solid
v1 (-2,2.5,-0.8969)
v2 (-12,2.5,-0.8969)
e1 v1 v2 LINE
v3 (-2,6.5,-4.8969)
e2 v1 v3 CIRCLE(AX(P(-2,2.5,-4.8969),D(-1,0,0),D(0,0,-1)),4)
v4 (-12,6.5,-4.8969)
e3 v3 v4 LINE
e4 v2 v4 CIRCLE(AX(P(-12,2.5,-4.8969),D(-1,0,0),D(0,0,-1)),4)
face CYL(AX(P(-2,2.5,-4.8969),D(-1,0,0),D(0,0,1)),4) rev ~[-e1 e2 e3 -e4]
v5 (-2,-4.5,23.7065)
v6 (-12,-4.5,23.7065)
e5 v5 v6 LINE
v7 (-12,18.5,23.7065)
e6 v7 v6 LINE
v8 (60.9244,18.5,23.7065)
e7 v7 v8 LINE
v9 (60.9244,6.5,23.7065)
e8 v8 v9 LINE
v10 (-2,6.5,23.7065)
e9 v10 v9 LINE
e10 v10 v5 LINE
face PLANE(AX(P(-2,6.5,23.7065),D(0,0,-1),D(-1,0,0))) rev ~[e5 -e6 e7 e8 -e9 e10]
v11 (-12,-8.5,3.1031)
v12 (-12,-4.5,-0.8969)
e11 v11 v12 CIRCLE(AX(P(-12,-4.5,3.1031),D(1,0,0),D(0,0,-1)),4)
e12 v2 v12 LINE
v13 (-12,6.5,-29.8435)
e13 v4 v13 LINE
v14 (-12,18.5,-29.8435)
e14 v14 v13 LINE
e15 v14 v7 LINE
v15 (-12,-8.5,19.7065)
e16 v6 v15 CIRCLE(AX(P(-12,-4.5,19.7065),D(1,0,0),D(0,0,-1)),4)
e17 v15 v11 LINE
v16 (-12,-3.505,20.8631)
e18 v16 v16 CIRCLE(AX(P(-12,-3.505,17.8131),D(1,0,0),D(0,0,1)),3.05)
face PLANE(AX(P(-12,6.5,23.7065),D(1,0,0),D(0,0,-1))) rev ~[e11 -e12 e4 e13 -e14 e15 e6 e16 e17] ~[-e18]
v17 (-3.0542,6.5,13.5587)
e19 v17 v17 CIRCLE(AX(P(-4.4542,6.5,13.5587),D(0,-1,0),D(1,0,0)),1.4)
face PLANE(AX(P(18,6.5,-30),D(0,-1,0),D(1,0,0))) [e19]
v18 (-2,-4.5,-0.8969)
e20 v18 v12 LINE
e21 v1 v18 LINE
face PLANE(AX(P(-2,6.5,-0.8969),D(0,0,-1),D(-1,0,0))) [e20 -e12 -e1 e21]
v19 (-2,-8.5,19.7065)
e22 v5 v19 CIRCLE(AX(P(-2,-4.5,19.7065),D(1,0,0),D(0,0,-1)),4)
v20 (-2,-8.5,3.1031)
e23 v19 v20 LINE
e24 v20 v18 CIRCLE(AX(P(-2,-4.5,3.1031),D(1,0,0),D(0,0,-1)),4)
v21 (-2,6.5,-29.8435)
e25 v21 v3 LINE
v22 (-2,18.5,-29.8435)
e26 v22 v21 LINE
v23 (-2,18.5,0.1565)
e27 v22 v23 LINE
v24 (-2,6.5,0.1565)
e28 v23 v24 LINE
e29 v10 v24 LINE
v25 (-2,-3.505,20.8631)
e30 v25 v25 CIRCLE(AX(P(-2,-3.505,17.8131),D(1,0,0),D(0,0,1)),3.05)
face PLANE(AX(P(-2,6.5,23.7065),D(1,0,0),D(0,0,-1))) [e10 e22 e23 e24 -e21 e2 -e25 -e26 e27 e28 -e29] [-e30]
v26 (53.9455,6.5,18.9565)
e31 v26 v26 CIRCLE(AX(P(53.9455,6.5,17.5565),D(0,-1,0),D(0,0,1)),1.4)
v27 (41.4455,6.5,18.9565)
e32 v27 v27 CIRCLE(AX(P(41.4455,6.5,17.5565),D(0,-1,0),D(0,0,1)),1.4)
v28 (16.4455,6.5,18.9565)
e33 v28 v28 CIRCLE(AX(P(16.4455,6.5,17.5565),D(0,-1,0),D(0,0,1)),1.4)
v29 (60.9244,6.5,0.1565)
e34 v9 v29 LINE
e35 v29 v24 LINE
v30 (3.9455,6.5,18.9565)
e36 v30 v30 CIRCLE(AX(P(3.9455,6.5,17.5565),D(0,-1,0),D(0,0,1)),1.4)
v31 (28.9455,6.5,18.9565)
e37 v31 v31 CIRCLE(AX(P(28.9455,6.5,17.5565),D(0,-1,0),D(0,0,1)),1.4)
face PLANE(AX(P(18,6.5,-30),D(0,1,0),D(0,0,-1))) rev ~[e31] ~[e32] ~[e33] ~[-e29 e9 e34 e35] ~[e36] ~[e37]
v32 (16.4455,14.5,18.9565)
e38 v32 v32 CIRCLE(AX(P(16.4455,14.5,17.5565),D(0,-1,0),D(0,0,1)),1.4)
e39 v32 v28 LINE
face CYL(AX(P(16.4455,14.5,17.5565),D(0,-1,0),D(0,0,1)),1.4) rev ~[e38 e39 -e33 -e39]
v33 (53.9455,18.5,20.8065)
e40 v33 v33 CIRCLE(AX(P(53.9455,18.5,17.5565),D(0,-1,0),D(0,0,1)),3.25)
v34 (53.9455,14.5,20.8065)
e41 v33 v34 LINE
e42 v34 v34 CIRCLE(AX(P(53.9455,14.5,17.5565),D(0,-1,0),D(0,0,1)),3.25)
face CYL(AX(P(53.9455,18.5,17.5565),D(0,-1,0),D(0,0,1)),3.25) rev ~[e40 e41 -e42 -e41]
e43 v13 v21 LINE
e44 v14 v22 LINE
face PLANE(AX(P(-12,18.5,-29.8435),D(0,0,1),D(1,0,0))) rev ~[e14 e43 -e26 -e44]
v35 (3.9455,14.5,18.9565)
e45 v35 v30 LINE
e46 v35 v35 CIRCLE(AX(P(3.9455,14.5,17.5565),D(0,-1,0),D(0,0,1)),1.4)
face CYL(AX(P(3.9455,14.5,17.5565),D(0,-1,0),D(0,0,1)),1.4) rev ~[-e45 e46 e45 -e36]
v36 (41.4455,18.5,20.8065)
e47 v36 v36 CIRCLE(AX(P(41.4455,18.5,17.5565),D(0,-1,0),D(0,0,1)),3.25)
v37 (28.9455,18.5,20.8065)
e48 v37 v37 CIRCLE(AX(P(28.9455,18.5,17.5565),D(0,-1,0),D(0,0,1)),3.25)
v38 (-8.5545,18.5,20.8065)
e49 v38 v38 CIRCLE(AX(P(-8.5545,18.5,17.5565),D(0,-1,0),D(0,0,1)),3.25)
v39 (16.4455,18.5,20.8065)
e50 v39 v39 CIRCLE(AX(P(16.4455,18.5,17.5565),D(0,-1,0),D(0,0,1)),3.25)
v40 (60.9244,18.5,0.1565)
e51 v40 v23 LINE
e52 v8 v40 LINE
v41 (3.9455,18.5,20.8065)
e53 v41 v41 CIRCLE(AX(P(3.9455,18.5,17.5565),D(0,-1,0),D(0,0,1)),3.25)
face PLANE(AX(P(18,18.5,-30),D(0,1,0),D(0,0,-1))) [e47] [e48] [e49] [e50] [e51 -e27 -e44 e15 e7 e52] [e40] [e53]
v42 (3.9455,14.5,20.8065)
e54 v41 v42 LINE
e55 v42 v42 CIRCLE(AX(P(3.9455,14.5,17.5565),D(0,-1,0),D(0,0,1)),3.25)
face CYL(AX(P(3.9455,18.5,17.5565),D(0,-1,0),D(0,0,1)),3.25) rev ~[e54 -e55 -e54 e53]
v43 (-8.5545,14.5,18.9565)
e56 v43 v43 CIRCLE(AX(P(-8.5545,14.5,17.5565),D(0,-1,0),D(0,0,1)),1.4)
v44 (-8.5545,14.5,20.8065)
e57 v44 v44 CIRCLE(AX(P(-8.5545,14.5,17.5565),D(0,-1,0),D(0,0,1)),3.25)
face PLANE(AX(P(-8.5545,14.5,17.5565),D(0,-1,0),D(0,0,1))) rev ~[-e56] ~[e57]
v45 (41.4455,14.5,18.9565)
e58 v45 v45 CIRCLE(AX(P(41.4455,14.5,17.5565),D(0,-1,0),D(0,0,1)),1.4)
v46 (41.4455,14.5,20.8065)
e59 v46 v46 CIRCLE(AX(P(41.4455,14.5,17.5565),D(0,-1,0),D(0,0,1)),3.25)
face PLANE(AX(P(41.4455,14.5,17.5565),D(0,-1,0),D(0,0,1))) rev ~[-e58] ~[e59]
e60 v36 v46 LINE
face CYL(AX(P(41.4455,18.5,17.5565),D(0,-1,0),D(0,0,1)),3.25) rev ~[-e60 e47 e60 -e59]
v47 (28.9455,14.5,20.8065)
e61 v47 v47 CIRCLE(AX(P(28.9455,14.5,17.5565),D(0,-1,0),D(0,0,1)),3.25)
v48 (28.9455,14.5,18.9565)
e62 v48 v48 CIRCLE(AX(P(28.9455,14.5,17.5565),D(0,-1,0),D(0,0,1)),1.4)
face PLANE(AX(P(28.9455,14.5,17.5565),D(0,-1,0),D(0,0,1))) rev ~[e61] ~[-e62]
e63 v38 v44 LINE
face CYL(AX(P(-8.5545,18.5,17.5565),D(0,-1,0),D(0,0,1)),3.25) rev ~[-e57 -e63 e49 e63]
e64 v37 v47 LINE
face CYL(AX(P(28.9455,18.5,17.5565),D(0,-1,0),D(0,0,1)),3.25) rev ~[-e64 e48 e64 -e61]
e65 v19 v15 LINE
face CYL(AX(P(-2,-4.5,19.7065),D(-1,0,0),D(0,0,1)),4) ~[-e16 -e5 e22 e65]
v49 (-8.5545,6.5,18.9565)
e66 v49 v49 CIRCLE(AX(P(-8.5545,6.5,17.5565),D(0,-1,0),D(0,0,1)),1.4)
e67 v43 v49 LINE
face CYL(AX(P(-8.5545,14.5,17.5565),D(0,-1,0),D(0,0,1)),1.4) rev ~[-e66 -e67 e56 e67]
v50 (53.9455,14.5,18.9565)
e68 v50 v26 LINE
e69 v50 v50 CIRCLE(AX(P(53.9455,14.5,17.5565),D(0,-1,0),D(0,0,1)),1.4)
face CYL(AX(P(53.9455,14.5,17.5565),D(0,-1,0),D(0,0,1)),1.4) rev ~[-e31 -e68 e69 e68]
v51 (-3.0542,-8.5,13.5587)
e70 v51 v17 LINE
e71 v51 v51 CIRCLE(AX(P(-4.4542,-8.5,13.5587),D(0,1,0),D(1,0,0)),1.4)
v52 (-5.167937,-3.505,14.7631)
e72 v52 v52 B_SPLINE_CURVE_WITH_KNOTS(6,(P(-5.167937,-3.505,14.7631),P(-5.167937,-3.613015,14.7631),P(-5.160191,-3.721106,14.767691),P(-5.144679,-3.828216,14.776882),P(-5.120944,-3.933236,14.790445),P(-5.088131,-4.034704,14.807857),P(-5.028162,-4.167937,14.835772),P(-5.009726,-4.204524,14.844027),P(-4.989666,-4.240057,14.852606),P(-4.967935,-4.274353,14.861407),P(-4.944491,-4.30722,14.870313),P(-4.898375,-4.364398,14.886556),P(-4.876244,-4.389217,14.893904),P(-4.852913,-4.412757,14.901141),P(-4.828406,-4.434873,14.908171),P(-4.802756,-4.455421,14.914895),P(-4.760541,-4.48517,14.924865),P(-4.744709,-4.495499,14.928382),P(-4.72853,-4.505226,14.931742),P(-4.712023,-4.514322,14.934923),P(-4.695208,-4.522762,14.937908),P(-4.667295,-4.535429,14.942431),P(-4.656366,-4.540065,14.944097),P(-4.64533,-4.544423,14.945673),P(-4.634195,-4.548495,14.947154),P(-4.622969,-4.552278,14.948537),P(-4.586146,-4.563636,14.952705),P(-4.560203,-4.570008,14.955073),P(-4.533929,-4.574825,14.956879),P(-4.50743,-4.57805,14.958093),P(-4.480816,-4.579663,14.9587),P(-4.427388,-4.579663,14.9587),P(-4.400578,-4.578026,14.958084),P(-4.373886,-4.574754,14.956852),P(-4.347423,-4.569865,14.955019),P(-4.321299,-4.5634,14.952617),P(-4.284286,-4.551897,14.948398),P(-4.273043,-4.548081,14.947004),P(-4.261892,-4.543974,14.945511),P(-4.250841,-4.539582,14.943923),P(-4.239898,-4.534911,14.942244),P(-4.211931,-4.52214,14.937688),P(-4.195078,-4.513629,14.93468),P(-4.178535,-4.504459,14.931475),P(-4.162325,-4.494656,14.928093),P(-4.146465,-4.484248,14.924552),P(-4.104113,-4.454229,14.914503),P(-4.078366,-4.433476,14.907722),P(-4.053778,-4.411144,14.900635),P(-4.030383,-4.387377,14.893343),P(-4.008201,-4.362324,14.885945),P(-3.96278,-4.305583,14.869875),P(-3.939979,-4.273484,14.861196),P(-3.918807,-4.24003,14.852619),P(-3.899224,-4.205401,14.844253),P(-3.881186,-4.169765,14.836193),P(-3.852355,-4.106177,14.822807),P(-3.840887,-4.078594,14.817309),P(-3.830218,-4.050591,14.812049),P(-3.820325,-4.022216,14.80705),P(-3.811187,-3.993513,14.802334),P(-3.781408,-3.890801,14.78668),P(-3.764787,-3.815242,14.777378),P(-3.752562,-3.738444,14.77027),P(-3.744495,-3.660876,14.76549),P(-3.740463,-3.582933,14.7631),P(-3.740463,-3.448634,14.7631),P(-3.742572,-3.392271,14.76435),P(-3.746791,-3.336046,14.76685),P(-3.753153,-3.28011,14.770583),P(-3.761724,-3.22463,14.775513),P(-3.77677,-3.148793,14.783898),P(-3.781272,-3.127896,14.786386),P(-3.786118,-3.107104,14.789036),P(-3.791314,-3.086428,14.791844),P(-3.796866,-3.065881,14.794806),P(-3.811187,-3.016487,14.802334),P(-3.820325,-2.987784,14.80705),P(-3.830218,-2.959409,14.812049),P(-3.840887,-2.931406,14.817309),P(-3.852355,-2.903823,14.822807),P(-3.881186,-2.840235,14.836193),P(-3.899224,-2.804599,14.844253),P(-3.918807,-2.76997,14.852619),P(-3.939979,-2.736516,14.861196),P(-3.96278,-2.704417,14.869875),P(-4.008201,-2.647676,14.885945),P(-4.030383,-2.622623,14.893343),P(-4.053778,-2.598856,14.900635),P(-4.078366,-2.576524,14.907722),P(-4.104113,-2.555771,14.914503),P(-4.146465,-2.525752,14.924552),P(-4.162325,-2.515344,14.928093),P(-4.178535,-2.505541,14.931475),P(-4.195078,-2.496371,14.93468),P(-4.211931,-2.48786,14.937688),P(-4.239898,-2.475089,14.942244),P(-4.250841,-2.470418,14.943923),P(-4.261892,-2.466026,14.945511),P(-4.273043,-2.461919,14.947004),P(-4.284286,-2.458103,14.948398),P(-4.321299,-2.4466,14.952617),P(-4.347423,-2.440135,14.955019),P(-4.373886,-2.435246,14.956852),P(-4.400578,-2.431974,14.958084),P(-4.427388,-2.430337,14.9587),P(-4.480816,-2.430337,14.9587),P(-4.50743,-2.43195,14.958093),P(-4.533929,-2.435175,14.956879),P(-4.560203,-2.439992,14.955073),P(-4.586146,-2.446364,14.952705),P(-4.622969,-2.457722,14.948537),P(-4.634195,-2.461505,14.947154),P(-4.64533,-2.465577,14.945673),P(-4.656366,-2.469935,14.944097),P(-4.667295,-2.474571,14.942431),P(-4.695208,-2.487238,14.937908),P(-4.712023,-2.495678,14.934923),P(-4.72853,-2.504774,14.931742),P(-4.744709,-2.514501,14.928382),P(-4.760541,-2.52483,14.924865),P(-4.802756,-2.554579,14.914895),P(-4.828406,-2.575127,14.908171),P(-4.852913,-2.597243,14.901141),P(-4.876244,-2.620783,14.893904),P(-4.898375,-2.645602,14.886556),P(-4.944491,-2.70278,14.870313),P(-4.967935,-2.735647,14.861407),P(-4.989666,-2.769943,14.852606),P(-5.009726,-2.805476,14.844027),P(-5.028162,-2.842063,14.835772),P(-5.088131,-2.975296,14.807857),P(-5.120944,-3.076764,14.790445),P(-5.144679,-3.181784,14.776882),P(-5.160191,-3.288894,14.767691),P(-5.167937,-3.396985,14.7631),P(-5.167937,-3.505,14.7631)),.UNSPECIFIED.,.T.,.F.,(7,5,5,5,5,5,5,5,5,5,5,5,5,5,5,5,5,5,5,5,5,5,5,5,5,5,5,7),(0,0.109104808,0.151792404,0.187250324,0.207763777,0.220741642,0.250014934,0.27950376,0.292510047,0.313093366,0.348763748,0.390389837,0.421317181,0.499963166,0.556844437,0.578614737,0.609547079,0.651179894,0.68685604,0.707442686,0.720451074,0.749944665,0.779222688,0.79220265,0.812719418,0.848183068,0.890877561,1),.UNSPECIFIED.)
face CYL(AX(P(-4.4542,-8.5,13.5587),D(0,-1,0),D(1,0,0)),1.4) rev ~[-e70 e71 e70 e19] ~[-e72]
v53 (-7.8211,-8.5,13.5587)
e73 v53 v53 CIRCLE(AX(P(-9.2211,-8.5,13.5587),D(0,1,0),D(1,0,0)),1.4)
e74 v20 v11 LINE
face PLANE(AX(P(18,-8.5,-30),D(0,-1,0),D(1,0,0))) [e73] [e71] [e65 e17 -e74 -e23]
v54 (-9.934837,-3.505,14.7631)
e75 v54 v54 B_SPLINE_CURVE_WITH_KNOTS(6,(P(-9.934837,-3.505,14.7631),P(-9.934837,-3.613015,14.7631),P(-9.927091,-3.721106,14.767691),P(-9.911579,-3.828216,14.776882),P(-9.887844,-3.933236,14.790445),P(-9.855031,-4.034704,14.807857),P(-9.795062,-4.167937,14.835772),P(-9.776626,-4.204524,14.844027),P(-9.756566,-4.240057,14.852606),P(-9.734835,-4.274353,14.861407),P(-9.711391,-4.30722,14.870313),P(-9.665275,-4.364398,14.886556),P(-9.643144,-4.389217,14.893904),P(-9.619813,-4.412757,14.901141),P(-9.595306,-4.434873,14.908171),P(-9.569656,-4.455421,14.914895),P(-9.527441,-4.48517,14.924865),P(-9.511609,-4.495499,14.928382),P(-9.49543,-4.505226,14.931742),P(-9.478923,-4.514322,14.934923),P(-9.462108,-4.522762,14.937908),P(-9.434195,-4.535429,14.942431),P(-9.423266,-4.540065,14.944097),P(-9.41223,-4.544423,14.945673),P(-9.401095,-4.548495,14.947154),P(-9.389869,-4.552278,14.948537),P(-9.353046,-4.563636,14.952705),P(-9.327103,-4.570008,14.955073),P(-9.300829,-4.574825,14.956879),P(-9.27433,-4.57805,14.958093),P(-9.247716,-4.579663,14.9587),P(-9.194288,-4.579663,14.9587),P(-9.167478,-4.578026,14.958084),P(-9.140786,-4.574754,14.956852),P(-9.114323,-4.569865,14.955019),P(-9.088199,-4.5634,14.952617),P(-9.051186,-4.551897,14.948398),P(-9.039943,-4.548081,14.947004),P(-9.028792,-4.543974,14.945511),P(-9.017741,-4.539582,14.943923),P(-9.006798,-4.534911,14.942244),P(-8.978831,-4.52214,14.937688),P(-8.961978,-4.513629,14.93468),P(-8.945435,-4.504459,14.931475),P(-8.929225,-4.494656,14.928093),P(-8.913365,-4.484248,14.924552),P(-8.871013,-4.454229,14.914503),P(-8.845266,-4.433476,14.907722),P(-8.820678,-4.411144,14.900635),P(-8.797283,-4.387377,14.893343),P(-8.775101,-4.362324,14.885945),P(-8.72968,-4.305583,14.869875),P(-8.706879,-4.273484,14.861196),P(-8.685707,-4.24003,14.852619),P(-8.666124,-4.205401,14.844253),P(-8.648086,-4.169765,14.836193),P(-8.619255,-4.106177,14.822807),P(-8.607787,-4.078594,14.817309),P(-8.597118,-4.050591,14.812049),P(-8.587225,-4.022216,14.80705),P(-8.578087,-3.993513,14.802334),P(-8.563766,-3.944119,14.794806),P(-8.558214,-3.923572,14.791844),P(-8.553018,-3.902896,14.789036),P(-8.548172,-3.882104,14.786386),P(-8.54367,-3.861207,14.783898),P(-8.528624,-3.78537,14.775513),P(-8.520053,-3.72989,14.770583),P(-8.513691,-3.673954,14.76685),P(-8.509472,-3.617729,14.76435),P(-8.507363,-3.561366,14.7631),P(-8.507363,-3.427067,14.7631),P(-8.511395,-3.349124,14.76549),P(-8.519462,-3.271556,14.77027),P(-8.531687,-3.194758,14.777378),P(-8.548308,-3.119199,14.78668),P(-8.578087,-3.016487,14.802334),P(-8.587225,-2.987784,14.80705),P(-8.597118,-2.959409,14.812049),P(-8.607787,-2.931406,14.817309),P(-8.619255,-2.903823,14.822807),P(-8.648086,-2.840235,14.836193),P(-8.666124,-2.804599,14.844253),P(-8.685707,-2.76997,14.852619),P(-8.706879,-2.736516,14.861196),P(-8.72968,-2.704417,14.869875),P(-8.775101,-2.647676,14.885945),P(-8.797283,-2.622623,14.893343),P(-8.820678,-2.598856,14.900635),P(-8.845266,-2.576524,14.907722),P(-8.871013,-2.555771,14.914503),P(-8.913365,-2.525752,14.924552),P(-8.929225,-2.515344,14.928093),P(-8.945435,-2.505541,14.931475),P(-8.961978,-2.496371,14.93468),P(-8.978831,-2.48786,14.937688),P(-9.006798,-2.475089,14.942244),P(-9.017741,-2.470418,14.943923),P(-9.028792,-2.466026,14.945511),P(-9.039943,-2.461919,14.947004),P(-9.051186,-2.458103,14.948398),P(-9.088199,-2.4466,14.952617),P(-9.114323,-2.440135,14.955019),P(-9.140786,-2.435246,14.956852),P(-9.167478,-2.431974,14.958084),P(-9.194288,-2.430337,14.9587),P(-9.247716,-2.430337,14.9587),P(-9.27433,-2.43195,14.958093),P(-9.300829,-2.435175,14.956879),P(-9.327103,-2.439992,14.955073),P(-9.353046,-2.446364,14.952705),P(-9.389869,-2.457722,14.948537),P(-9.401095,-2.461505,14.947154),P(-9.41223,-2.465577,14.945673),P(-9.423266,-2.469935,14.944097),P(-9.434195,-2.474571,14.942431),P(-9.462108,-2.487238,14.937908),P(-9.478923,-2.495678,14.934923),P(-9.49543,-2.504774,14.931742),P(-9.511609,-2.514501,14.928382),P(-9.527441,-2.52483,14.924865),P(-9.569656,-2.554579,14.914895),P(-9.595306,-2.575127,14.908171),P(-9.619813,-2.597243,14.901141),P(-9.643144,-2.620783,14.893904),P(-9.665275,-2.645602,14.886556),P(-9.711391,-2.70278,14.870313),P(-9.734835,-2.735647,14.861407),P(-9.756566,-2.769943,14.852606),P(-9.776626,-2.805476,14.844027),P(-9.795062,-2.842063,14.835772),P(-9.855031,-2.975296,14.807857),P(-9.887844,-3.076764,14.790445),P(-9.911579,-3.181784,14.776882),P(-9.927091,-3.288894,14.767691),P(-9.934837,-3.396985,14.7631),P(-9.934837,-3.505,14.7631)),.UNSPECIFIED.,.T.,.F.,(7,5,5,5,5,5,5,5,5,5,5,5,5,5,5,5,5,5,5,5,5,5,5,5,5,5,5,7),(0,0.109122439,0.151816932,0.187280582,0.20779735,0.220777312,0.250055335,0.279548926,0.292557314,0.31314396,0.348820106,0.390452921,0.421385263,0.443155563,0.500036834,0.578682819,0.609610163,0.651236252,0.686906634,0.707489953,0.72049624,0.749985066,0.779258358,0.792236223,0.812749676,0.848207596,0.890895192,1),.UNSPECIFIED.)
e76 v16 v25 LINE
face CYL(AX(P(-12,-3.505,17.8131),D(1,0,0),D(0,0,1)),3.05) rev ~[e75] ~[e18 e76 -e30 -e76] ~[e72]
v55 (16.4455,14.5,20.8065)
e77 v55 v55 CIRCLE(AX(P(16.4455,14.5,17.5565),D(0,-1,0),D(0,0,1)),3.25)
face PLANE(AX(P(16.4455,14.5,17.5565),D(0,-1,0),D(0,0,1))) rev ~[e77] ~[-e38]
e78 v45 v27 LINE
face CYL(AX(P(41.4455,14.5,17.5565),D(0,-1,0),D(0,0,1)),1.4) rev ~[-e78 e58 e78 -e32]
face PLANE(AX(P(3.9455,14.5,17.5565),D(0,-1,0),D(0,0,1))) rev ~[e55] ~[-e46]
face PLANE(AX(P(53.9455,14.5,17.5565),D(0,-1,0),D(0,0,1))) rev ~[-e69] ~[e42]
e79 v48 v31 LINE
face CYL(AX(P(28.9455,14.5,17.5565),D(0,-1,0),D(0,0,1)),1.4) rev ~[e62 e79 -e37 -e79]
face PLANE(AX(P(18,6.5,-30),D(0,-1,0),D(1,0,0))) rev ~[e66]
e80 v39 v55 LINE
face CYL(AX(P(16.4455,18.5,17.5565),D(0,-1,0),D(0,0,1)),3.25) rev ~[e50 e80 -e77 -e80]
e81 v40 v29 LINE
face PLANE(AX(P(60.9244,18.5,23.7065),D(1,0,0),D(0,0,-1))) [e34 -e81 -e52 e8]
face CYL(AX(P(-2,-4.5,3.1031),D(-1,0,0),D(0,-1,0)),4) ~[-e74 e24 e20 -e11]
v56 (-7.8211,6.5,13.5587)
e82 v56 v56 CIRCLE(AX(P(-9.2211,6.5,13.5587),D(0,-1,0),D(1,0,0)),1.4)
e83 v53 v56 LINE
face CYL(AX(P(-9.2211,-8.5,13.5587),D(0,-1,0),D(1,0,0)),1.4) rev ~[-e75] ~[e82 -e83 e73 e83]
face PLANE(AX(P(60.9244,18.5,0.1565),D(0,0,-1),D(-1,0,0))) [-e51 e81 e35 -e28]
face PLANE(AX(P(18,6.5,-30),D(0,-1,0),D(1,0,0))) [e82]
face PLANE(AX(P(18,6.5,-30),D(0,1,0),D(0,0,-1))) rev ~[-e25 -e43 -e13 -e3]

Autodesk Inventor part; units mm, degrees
ref_plane "YZ Plane" through (0, 0, 0) normal (1, 0, 0) x (0, 1, 0)
ref_plane "XZ Plane" through (0, 0, 0) normal (0, 1, 0) x (-1, 0, 0)
ref_plane "XY Plane" through (0, 0, 0) normal (0, 0, 1) x (1, 0, 0)
ref_plane "Work Plane1" through (18, 18.5, -30) normal (0, 1, 0) x (0, 0, -1)
sketch "Sketch1" plane through (18, 18.5, -30) normal (0, 1, 0) x (0, 0, -1)
  line L0 (-30.1565, -29.8905) -> (-15.0465, -29.8905) construction
  line L1 (-30, -38) -> (-30, 18) construction
  circle A0 centre (-25, -20) radius 1.45 construction
  circle A1 centre (25, -20) radius 1.45 construction
  circle A2 centre (25, 0) radius 1.45 construction
  circle A3 centre (-25, 0) radius 1.45 construction
  circle A4 centre (10, -35) radius 1.45 construction
  circle A5 centre (10, 15) radius 1.45 construction
  circle A6 centre (-10, 15) radius 1.45 construction
  circle A7 centre (-10, -35) radius 1.45 construction
  circle A8 centre (25, 15) radius 2.325 construction
  circle A9 centre (-25, -35) radius 2.325 construction
  circle A10 centre (25, -35) radius 2.325 construction
  circle A11 centre (-25, 15) radius 2.325 construction
  line L2 (-28, 20) -> (-30, 18) construction
  line L3 (-28, 20) -> (28, 20) construction
  line L4 (30, 18) -> (28, 20) construction
  line L5 (30, 18) -> (30, -38) construction
  line L6 (28, -40) -> (30, -38) construction
  line L7 (28, -40) -> (-28, -40) construction
  line L8 (-30, -38) -> (-28, -40) construction
  line L9 (-30, -38) -> (-30, 18) construction
  circle A12 centre (17.5, -27.5) radius 1.95 construction
  circle A13 centre (-17.5, 7.5) radius 1.95 construction
  circle A14 centre (-17.5, -27.5) radius 1.95 construction
  circle A15 centre (17.5, 7.5) radius 1.95 construction
  circle A16 centre (0, -10) radius 7.5 construction
  line L10 (-0.1565, 20) -> (-30.1565, 20)
  line L11 (-30.1565, 20) -> (-30.1565, 30)
  line L12 (-30.1565, 30) -> (-0.1565, 30)
  line L13 (-0.1565, 30) -> (-0.1565, 20)
  line L14 (-30.1565, 30) -> (-53.7065, 30)
  line L15 (-53.7065, 30) -> (-53.7065, -42.9244)
  line L16 (-53.7065, -42.9244) -> (-30.1565, -42.9244)
  line L17 (-30.1565, -42.9244) -> (-30.1565, 30)
  circle A17 centre (-47.5565, 1.5545) radius 1.75 construction
  circle A18 centre (-47.5565, -10.9455) radius 1.75 construction
  circle A19 centre (-47.5565, -23.4455) radius 1.75 construction
  circle A20 centre (-47.5565, -35.9455) radius 1.75 construction
  line L18 (-41.6065, -40.3471) -> (-53.7065, -40.3471) construction
  line L19 (-41.6065, -40.3471) -> (-41.6065, 9.6529) construction
  line L20 (-41.6065, 9.6529) -> (-53.7065, 9.6529) construction
  line L21 (-53.7065, -40.3471) -> (-53.7065, 9.6529) construction
  circle A21 centre (-47.5565, -48.4455) radius 1.75 construction
  circle A22 centre (-47.5565, -60.9455) radius 1.75 construction
  circle A23 centre (-47.5565, -73.4455) radius 1.75 construction
  circle A24 centre (-47.5565, -85.9455) radius 1.75 construction
  line L22 (-41.6065, -90.3471) -> (-53.7065, -90.3471) construction
  line L23 (-41.6065, -90.3471) -> (-41.6065, -40.3471) construction
  line L24 (-41.6065, -40.3471) -> (-53.7065, -40.3471) construction
  line L25 (-53.7065, -90.3471) -> (-53.7065, -40.3471) construction
  point P0 (-30.1565, 20)
  dimension "d0" = 10
  dimension "d1" = 30
extrude "Extrusion1" add sketch "Sketch1" against normal blind 12
sketch "Sketch2" plane through (18, 18.5, -30) normal (0, 1, 0) x (1, 0, 0)
  circle A0 centre (35.9455, -47.5565) radius 1.75 projected
  point P0 (-18, -30)
hole "Hole1" at (53.9455, 18.5, 17.5565) direction (0, -1, 0) diameter 2.8 end through all counterbore diameter 6.5 counterbore depth 4
pattern_linear "Rectangular Pattern1" count 9 spacing 12.5 along (-1, 0, 0) of "Hole1"
sketch "Sketch3" plane through (18, 6.5, -30) normal (0, -1, 0) x (1, 0, 0)
  line L0 (-30, 53.7065) -> (-30, 0.1565) projected
  line L1 (-30, 0.1565) -> (-20, 0.1565) projected
  line L2 (-20, 0.1565) -> (-20, 30.1565) projected
  line L3 (-20, 30.1565) -> (42.9244, 30.1565) projected
  line L4 (42.9244, 30.1565) -> (42.9244, 53.7065) projected
  line L5 (42.9244, 53.7065) -> (-30, 53.7065) projected
  line L6 (-30, 53.7065) -> (42.9244, 53.7065) projected
  line L7 (-30, 53.7065) -> (-20, 53.7065)
  line L8 (-20, 53.7065) -> (-20, 29.1031)
  line L9 (-20, 29.1031) -> (-30, 29.1031)
  line L10 (-30, 29.1031) -> (-30, 53.7065)
  point P0 (-18, 30)
  point P1 (-30, 29.1031)
  dimension "d14" = 10
extrude "Extrusion2" add sketch "Sketch3" along normal blind 15 contours L5 L8 L2 L9 L0
sketch "Sketch4" plane through (-12, 18.5, -29.8435) normal (-1, 0, 0) x (0, 0, 1)
  line L0 (0, 0) -> (53.55, 0) projected
  line L1 (0, 0) -> (0, -12) projected
  line L2 (28.9466, -12) -> (0, -12) projected
  line L3 (28.9466, -12) -> (28.9466, -27) projected
  line L4 (53.55, -27) -> (28.9466, -27) projected
  line L5 (53.55, 0) -> (53.55, -27) projected
  circle A0 centre (40.6, -17.5571) radius 2.1 projected
  circle A1 centre (47.6565, -22.005) radius 1.6829
  arc A2 (53.5014, -16.3734) -> (53.6565, -16.1421) centre (53.4065, -16.1421) ccw construction
  arc A3 (53.5014, -16.3734) -> (52.9237, -16.8727) centre (53.9565, -17.4838) ccw construction
  arc A4 (52.7304, -16.9945) -> (52.9237, -16.8727) centre (52.7086, -16.7455) ccw construction
  line L6 (52.7304, -16.9945) -> (52.3847, -17.0247) construction
  arc A5 (52.3847, -17.0247) -> (52.1565, -17.2738) centre (52.4065, -17.2738) ccw construction
  line L7 (52.1565, -17.2738) -> (52.1565, -17.7262) construction
  arc A6 (52.1565, -17.7262) -> (52.3847, -17.9753) centre (52.4065, -17.7262) ccw construction
  line L8 (52.3847, -17.9753) -> (52.7513, -18.0073) construction
  arc A7 (52.9411, -18.1232) -> (52.7513, -18.0073) centre (52.7295, -18.2564) ccw construction
  arc A8 (52.9411, -18.1232) -> (53.5014, -18.5941) centre (53.9565, -17.4838) ccw construction
  arc A9 (53.6565, -18.8254) -> (53.5014, -18.5941) centre (53.4065, -18.8254) ccw construction
  line L9 (53.6565, -18.8254) -> (53.6565, -19.5) construction
  line L10 (53.6565, -19.5) -> (53.1565, -20) construction
  line L11 (53.1565, -20) -> (42.1566, -20) construction
  line L12 (42.1566, -20) -> (41.6566, -19.5) construction
  line L13 (41.6566, -19.5) -> (41.6566, -18.8254) construction
  arc A10 (41.8117, -18.5941) -> (41.6566, -18.8254) centre (41.9066, -18.8254) ccw construction
  arc A11 (41.8117, -18.5941) -> (42.372, -18.1232) centre (41.3566, -17.4838) ccw construction
  arc A12 (42.5618, -18.0073) -> (42.372, -18.1232) centre (42.5836, -18.2564) ccw construction
  line L14 (42.5618, -18.0073) -> (42.9283, -17.9753) construction
  arc A13 (42.9283, -17.9753) -> (43.1566, -17.7262) centre (42.9066, -17.7262) ccw construction
  line L15 (43.1566, -17.7262) -> (43.1566, -17.2738) construction
  arc A14 (43.1566, -17.2738) -> (42.9283, -17.0247) centre (42.9066, -17.2738) ccw construction
  line L16 (42.9283, -17.0247) -> (42.5827, -16.9945) construction
  arc A15 (42.3894, -16.8727) -> (42.5827, -16.9945) centre (42.6045, -16.7455) ccw construction
  arc A16 (42.3894, -16.8727) -> (41.8117, -16.3734) centre (41.3566, -17.4838) ccw construction
  arc A17 (41.6566, -16.1421) -> (41.8117, -16.3734) centre (41.9066, -16.1421) ccw construction
  line L17 (41.6566, -16.1421) -> (41.6566, -15) construction
  line L18 (41.6566, -15) -> (35.0566, -15) construction
  line L19 (35.0566, -15) -> (34.4566, -15.6) construction
  line L20 (34.4566, -15.6) -> (34.4566, -23.4) construction
  line L21 (34.4566, -23.4) -> (35.6565, -24.6) construction
  line L22 (35.6565, -24.6) -> (59.6565, -24.6) construction
  line L23 (59.6565, -24.6) -> (60.8565, -23.4) construction
  line L24 (60.8565, -23.4) -> (60.8565, -15.6) construction
  line L25 (60.8565, -15.6) -> (60.2565, -15) construction
  line L26 (60.2565, -15) -> (53.6565, -15) construction
  line L27 (53.6565, -15) -> (53.6565, -16.1421) construction
  circle A18 centre (40.7565, -22.005) radius 2.1 construction
  circle A19 centre (54.5565, -22.005) radius 2.1 construction
  point P0 (29.8435, -18.5)
hole "Hole2" at (-12, -3.505, 17.8131) direction (1, 0, 0) diameter 6.1 end through all
fillet "Fillet1" radius 4 3 edges at (-7, -8.5, 23.7065) (-7, -8.5, -0.8969) (-7, 6.5, -0.8969)
sketch "Sketch5" plane through (18, -8.5, -30) normal (0, -1, 0) x (1, 0, 0)
  line L0 (-20, 43.8065) -> (-30, 43.8065) construction
  circle A0 centre (-22.4542, 43.5587) radius 1.4
  circle A1 centre (-27.2211, 43.5587) radius 1.4
  line L1 (-20, 44.7631) -> (-30, 44.7631) projected
  point P0 (-18, 30)
  dimension "d28" = 2.8
  dimension "d29" = 2.8
extrude "Extrusion3" cut sketch "Sketch5" against normal blind 15
properties part number "30_cellSTORM_UC2_Laser_slider"
